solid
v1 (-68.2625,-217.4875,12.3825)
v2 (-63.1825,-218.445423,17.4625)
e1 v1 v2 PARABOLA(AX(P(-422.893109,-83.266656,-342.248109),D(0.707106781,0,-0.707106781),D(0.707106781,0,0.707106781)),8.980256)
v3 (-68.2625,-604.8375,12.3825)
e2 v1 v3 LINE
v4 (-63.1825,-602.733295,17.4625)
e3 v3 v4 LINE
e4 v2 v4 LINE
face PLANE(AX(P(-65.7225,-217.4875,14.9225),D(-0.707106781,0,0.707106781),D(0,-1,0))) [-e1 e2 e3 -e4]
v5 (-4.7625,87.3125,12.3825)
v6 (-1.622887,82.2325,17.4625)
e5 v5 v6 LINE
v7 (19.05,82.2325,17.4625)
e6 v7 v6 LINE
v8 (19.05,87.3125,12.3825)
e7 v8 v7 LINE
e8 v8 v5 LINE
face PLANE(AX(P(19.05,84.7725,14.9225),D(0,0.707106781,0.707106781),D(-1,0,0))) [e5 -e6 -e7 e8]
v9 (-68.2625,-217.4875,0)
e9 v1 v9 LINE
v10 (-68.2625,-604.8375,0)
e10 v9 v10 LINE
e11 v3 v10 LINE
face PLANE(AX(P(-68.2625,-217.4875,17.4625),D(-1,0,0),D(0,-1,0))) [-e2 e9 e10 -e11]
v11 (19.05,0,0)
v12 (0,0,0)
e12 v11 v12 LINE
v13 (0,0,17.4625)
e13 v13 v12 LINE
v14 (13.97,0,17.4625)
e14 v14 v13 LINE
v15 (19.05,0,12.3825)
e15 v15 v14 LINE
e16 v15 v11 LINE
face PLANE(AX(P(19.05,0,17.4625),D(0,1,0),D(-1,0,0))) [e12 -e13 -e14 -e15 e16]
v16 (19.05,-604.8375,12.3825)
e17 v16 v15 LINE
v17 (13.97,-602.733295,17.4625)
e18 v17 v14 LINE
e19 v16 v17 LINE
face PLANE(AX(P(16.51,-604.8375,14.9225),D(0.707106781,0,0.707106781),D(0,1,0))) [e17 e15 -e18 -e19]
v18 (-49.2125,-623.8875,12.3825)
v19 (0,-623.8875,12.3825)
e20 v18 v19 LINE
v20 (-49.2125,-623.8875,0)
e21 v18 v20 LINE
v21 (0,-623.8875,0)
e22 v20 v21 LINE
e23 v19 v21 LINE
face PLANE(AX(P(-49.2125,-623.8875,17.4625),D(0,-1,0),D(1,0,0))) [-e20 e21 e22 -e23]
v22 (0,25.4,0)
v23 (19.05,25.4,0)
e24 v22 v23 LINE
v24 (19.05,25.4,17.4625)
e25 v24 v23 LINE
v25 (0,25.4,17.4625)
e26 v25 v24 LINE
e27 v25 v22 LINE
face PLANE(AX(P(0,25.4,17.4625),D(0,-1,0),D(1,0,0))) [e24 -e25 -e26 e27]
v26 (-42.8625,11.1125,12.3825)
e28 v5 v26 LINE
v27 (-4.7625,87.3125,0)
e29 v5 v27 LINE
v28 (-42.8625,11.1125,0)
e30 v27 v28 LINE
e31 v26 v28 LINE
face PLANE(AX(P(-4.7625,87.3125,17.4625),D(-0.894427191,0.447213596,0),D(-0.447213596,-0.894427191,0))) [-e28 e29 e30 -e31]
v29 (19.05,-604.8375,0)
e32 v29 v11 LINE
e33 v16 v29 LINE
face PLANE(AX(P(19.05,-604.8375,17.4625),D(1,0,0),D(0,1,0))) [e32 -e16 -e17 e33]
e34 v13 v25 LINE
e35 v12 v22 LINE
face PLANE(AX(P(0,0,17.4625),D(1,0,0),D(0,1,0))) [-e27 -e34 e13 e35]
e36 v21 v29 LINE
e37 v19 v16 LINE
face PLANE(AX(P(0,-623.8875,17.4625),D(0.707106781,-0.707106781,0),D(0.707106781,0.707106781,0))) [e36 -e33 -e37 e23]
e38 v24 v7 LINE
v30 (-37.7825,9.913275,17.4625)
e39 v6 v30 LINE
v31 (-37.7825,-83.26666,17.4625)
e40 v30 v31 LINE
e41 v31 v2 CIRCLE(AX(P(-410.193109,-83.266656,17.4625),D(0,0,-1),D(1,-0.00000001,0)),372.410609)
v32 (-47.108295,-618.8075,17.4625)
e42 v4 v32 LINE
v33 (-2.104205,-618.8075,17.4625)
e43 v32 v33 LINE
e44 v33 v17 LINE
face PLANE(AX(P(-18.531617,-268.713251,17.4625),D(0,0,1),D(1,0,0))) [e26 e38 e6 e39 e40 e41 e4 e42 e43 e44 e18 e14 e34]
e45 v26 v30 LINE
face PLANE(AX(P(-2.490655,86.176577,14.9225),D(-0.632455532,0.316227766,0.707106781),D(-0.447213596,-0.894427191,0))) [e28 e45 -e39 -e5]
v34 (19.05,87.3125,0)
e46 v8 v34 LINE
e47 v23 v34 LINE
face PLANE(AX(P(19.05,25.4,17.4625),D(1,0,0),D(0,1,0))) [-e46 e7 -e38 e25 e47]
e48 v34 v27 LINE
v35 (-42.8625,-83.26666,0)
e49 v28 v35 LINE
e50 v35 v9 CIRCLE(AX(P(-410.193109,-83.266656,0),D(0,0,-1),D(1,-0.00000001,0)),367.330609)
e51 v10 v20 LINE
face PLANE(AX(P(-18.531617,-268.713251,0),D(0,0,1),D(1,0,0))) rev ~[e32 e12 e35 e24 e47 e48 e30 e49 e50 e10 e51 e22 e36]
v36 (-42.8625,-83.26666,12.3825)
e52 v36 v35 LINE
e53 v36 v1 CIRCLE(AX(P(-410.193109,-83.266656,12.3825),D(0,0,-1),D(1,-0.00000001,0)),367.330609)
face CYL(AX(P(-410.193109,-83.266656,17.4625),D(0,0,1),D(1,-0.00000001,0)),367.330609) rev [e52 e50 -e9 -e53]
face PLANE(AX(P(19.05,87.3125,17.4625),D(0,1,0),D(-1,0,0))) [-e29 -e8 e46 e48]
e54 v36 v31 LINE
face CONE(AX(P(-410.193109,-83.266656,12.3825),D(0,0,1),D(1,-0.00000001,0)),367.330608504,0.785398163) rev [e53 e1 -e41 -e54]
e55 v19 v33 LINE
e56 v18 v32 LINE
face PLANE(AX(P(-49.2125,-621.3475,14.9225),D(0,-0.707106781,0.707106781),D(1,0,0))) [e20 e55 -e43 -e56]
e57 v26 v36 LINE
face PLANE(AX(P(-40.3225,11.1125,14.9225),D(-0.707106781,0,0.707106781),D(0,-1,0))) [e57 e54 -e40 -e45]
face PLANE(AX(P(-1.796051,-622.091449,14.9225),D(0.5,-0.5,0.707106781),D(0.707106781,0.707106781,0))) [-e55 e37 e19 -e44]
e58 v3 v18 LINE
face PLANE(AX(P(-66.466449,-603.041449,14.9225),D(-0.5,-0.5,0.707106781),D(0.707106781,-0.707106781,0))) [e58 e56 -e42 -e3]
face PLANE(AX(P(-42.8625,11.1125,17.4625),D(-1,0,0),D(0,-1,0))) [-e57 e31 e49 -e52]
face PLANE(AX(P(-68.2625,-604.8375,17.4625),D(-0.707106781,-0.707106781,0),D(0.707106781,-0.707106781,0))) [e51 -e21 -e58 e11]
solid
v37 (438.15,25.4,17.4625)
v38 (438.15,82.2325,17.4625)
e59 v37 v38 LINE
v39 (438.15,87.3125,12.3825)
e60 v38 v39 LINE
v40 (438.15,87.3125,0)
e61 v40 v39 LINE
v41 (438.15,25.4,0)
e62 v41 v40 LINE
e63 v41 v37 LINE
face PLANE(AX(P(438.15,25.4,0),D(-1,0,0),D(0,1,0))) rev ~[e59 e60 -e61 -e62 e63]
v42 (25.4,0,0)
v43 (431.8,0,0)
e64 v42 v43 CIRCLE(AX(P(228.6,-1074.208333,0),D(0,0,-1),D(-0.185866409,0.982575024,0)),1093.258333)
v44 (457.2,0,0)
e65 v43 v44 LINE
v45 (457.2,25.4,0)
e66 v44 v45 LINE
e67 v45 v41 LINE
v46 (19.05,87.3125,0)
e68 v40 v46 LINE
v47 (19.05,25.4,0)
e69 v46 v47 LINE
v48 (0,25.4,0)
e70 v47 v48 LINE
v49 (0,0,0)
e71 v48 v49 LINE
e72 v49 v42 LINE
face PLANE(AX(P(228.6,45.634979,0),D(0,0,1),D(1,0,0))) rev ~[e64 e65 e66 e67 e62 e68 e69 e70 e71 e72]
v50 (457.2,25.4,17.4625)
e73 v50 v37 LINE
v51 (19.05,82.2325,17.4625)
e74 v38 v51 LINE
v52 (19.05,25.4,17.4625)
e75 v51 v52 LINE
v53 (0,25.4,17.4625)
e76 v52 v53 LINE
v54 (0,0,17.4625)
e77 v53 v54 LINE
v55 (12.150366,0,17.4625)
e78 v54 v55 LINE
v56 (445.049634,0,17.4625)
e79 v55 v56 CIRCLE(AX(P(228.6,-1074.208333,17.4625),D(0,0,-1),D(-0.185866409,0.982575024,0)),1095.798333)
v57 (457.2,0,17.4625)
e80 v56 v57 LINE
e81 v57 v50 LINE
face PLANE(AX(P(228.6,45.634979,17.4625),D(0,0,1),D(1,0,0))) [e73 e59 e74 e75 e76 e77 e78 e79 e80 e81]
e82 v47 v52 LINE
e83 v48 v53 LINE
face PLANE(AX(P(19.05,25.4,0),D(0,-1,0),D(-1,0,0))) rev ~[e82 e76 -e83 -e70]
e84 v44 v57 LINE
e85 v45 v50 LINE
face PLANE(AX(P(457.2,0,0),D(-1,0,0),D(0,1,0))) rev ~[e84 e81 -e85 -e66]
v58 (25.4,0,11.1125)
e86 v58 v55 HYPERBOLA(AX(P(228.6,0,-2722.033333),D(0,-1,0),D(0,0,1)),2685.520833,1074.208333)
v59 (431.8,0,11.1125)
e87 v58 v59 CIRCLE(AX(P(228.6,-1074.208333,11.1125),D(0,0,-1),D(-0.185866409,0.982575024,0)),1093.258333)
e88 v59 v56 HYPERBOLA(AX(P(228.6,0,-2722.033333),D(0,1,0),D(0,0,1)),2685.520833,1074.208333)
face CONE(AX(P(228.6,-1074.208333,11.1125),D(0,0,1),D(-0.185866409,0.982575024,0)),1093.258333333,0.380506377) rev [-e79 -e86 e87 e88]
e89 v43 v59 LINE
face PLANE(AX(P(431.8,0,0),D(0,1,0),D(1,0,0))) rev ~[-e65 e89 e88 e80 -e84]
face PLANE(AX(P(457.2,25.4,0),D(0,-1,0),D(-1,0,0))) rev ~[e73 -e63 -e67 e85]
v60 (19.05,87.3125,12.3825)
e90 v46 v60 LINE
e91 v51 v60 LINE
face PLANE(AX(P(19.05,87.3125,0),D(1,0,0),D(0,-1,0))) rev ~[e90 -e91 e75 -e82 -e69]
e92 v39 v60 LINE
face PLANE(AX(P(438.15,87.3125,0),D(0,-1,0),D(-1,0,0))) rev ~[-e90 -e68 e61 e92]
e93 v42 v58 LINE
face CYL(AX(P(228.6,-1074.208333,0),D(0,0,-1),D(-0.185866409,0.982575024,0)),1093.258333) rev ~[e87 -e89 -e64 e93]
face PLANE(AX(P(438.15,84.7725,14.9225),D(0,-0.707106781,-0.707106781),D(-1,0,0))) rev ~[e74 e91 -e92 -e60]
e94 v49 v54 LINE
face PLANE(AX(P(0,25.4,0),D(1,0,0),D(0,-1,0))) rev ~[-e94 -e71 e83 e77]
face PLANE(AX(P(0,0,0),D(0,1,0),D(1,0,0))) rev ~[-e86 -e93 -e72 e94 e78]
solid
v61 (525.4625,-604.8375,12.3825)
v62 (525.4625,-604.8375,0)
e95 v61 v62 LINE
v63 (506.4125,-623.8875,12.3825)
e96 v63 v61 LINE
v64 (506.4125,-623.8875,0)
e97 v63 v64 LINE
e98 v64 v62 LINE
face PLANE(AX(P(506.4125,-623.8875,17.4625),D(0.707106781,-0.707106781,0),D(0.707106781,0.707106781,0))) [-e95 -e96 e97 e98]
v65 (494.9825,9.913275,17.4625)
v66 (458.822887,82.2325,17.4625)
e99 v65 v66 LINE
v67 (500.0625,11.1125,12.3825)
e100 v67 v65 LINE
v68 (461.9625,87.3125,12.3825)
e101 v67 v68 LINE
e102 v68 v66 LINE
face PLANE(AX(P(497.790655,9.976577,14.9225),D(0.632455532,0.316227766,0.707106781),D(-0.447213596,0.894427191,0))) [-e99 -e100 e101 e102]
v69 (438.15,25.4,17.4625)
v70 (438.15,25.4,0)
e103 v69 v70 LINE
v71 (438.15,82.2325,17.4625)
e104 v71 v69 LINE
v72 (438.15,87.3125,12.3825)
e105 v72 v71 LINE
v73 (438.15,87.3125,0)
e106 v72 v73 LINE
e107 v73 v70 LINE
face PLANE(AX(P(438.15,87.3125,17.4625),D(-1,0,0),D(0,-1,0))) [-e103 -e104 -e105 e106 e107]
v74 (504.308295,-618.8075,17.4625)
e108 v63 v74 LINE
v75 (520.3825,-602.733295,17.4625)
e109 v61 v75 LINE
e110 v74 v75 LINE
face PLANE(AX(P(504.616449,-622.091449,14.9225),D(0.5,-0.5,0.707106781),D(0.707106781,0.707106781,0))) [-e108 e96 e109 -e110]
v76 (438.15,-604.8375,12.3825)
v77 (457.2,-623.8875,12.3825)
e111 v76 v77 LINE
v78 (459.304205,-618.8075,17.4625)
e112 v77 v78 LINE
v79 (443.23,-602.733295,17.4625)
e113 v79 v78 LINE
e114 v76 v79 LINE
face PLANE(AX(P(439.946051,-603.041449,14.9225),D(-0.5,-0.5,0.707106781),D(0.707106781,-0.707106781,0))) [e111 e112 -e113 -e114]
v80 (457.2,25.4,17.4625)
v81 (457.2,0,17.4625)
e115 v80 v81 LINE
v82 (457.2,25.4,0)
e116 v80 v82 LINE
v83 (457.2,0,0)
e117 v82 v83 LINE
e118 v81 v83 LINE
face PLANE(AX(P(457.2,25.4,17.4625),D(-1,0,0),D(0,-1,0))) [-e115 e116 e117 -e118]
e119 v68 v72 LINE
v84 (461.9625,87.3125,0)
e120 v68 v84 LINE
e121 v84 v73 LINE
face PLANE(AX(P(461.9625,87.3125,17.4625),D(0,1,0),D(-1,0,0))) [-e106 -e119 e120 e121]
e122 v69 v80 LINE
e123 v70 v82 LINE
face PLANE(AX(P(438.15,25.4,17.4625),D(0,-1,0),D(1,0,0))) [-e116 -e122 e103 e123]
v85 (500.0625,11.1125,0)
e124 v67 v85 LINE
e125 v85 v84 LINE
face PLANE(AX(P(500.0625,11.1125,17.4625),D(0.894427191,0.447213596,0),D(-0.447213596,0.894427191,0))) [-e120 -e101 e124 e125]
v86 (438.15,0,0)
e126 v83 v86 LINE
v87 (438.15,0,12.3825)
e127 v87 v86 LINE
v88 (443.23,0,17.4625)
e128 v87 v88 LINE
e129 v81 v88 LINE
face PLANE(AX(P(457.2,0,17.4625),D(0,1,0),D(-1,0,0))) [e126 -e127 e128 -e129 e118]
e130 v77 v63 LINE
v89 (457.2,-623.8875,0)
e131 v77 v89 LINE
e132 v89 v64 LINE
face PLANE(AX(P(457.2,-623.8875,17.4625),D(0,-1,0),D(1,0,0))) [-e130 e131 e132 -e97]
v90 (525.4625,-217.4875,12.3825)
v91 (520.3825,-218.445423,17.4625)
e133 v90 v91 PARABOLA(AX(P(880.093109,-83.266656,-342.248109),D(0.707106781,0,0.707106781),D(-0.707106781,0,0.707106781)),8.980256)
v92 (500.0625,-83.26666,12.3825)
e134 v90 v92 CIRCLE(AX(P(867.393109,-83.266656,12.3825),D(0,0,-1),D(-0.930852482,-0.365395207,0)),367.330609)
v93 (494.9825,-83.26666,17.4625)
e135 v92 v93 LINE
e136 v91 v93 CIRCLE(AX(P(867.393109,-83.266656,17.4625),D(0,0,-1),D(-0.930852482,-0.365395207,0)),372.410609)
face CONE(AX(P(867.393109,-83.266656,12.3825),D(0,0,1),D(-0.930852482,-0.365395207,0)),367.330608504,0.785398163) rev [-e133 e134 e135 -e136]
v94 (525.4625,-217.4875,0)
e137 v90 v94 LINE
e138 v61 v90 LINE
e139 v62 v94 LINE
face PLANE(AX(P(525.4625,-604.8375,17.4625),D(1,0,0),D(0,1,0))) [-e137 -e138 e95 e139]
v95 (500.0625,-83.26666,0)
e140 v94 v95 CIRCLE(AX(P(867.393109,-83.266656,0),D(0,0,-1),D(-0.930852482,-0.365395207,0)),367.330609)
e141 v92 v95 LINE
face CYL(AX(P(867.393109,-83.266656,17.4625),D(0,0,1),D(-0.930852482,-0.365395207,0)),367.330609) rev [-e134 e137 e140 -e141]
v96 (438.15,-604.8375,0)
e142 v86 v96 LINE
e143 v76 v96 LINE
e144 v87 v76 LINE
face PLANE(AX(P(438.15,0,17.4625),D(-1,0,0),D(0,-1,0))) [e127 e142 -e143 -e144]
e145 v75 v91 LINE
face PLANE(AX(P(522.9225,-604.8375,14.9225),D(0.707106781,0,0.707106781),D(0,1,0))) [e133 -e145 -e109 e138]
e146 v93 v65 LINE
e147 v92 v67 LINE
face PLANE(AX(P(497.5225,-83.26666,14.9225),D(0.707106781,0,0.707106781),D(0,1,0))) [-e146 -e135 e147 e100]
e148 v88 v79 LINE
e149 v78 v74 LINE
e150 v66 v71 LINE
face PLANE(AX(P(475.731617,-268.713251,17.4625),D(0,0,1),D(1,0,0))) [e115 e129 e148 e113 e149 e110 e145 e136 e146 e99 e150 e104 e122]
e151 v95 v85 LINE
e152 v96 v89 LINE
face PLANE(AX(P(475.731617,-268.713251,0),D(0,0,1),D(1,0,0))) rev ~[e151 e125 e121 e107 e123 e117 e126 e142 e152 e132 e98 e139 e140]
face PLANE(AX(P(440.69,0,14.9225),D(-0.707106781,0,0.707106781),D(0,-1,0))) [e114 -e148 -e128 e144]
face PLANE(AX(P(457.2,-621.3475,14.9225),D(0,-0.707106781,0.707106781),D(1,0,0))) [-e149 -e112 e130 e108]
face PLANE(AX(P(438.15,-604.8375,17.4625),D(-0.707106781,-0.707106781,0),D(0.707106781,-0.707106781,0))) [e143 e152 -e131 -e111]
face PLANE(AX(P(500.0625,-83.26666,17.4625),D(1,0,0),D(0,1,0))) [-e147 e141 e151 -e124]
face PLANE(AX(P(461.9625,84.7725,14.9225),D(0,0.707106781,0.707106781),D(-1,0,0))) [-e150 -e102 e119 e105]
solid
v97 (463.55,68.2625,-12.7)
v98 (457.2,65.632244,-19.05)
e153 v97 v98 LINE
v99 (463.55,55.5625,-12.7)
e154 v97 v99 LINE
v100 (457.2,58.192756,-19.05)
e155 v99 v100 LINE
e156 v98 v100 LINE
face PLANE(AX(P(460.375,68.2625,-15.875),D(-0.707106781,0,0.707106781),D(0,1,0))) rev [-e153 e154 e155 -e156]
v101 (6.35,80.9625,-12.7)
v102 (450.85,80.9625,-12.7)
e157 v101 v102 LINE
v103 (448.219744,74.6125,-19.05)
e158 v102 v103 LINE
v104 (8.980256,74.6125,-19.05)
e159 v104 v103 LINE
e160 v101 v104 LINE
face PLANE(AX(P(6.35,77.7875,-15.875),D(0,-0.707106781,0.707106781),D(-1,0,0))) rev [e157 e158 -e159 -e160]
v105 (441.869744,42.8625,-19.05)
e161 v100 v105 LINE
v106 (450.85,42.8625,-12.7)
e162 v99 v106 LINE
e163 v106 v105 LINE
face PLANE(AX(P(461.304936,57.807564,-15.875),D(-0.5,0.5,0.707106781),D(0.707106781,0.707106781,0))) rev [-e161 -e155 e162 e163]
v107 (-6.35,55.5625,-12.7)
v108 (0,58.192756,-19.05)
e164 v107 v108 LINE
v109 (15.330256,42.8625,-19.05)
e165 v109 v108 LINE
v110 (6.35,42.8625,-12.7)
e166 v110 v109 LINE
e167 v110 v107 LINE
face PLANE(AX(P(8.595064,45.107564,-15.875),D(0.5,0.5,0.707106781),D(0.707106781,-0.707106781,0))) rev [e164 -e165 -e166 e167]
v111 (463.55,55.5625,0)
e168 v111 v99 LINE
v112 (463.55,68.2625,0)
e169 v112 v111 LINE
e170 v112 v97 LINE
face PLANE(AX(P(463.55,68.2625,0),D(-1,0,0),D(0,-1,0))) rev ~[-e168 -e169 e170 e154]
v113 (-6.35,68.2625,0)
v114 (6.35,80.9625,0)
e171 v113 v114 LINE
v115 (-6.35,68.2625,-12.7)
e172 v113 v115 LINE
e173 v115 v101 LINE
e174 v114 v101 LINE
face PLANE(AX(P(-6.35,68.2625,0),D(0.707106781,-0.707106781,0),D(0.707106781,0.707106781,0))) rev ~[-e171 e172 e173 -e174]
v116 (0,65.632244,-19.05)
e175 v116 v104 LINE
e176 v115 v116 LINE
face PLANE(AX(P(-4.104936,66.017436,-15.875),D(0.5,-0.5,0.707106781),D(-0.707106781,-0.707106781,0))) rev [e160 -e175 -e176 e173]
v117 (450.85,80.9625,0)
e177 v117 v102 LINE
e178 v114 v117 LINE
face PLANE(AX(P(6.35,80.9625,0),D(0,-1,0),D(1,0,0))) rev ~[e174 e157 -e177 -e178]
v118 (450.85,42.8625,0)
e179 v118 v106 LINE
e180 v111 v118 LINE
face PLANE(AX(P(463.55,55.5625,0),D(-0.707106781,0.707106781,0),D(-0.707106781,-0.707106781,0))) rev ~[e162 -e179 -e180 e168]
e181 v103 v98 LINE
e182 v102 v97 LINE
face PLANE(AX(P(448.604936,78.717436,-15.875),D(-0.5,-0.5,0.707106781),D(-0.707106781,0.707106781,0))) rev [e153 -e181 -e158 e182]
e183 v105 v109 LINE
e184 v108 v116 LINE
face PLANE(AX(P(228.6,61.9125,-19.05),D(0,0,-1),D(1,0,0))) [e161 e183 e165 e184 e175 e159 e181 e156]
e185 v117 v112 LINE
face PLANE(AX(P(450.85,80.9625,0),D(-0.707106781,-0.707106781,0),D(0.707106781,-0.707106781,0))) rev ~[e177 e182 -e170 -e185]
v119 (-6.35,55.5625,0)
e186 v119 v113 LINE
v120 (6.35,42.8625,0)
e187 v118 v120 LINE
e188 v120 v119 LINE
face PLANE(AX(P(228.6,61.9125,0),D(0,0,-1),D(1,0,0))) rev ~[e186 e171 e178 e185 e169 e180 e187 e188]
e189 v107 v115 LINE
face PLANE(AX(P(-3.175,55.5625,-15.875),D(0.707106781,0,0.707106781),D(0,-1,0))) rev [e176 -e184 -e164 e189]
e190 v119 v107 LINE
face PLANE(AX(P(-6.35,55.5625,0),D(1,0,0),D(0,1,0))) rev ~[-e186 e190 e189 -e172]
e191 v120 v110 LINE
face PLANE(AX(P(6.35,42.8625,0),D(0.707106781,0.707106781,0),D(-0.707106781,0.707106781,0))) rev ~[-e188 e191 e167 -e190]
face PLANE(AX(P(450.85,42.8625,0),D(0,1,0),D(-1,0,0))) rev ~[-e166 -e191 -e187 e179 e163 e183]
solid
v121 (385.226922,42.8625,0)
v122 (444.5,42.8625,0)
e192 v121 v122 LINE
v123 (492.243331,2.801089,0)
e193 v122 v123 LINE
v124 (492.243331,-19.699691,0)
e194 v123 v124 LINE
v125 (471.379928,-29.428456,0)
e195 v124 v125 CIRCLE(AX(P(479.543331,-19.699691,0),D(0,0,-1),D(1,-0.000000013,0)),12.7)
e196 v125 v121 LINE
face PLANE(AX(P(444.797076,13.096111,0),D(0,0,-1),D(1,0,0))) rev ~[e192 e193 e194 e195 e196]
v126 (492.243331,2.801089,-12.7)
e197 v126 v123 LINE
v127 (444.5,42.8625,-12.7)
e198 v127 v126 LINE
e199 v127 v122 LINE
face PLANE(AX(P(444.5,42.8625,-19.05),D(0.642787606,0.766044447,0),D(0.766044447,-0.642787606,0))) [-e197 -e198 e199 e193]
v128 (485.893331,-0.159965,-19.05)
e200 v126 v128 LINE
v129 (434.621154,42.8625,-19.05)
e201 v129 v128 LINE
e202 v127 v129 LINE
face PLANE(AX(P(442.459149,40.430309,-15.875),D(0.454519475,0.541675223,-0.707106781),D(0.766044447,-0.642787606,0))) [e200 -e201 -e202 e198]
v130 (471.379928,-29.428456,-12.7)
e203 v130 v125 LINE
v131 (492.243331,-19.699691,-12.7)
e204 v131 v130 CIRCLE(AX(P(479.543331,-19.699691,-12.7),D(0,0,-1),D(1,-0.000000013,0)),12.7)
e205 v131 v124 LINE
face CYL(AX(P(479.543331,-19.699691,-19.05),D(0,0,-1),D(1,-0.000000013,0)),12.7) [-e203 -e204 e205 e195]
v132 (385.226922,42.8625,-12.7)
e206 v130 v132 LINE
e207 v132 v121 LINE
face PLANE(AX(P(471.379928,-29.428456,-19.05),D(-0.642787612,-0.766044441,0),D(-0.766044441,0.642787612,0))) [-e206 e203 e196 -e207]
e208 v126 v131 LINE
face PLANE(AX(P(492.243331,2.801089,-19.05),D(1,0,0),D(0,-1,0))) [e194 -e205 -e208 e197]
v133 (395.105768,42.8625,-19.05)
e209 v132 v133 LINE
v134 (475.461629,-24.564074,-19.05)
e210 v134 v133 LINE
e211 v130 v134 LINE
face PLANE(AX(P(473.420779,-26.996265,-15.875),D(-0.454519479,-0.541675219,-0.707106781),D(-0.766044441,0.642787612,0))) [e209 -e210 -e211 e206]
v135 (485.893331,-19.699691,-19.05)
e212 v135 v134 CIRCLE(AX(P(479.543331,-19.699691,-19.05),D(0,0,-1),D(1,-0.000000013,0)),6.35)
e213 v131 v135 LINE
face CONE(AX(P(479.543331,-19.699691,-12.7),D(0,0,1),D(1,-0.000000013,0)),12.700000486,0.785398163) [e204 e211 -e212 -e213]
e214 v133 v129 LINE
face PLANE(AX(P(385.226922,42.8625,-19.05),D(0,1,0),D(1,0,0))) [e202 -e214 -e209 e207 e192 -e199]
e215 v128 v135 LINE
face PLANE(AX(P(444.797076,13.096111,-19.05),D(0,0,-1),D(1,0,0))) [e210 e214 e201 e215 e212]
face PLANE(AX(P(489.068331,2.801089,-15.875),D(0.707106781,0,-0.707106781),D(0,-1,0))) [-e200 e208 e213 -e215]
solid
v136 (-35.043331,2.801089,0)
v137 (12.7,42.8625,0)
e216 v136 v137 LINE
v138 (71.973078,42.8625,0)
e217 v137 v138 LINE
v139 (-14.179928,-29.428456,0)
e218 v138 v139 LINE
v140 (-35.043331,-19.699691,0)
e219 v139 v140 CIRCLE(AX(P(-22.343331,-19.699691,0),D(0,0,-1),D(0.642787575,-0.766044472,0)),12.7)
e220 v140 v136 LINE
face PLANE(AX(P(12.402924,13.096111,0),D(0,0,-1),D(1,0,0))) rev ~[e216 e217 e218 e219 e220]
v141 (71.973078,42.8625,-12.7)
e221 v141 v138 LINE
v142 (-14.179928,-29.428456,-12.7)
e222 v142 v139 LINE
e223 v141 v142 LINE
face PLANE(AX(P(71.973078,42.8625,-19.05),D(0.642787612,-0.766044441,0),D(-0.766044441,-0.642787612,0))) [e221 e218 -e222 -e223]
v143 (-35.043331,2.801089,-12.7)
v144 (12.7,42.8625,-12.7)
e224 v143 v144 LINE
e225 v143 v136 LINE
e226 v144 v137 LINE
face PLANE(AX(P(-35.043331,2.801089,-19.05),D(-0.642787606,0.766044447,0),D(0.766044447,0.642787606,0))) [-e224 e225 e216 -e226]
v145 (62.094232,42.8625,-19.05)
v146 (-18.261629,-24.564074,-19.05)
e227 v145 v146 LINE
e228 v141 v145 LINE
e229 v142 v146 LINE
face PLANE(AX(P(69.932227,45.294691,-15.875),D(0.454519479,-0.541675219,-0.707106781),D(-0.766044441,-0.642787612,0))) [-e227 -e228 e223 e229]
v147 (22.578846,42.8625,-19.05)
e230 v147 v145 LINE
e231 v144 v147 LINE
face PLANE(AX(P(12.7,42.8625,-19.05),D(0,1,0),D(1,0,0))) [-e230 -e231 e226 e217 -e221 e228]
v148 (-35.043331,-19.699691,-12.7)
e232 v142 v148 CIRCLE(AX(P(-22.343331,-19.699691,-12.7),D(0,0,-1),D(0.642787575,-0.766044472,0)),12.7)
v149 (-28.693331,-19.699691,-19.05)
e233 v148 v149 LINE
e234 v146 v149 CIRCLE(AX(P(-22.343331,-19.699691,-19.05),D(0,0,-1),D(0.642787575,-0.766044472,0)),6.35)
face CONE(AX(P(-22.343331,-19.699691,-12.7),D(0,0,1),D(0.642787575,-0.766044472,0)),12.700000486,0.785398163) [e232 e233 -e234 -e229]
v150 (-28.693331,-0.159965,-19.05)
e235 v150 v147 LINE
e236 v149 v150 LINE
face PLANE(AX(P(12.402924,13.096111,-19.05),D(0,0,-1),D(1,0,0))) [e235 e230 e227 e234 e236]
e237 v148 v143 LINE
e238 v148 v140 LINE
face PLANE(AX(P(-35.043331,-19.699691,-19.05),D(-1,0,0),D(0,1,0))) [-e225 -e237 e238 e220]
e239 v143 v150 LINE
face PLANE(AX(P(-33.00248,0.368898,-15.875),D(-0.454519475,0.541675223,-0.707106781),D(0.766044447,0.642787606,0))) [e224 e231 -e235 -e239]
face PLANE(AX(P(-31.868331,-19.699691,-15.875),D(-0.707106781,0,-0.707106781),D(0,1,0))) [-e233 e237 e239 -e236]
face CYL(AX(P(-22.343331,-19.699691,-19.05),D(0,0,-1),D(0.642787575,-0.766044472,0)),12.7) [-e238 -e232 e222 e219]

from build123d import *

# Parameters (mm, degrees)
F1_DEPTH   = 17.4625
F2_SIZE2   = 2.54
F2_SIZE    = 6.35
F4_DEPTH   = 17.4625
F5_SIZE    = 5.08
F5_2_SIZE  = 5.08
F7_DEPTH   = 19.05
F9_DEPTH   = 19.05
F10_SIZE   = 6.35
F10_2_SIZE = 6.35


with BuildPart() as f1:
    # F0 (on Top) → F1 (new body)
    with BuildSketch(Plane.XY):
        with BuildLine():
            Line((0, 25.4), (0, 0))
            Line((0, 0), (25.4, 0))
            ThreePointArc((25.4, 0), (228.6, 19.05), (431.8, 0))
            Line((431.8, 0), (457.2, 0))
            Line((457.2, 0), (457.2, 25.4))
            Line((457.2, 25.4), (438.15, 25.4))
            Line((438.15, 25.4), (438.15, 87.3125))
            Line((438.15, 87.3125), (19.05, 87.3125))
            Line((19.05, 87.3125), (19.05, 25.4))
            Line((19.05, 25.4), (0, 25.4))
        make_face()
    extrude(amount=F1_DEPTH)

    # F2
    f2_edges = [f1.edges().sort_by_distance(p)[0] for p in [
        (228.6, 19.05, 17.4625),
    ]]
    chamfer(f2_edges, length=F2_SIZE, length2=F2_SIZE2)

    # F5
    f5_edges = [f1.edges().sort_by_distance(p)[0] for p in [
        (228.6, 87.3125, 17.4625),
    ]]
    chamfer(f5_edges, length=F5_SIZE)


with BuildPart() as f4:
    # F3 (on face) → F4 (new body)
    with BuildSketch(Plane.XY.offset(17.4625)):
        with BuildLine():
            Line((19.05, 87.3125), (-4.7625, 87.3125))
            Line((-4.7625, 87.3125), (-42.8625, 11.1125))
            Line((-42.8625, 11.1125), (-42.8625, -83.26666))
            ThreePointArc((-42.8625, -83.26666), (-49.268356, -151.568186), (-68.2625, -217.4875))
            Line((-68.2625, -217.4875), (-68.2625, -604.8375))
            Line((-68.2625, -604.8375), (-49.2125, -623.8875))
            Line((-49.2125, -623.8875), (0, -623.8875))
            Line((0, -623.8875), (19.05, -604.8375))
            Line((19.05, -604.8375), (19.05, 0))
            Line((19.05, 0), (0, 0))
            Line((0, 0), (0, 25.4))
            Line((0, 25.4), (19.05, 25.4))
            Line((19.05, 25.4), (19.05, 87.3125))
        make_face()
        with BuildLine():
            Line((457.2, 25.4), (457.2, 0))
            Line((457.2, 0), (438.15, 0))
            Line((438.15, 0), (438.15, -604.8375))
            Line((438.15, -604.8375), (457.2, -623.8875))
            Line((457.2, -623.8875), (506.4125, -623.8875))
            Line((506.4125, -623.8875), (525.4625, -604.8375))
            Line((525.4625, -604.8375), (525.4625, -217.4875))
            ThreePointArc((525.4625, -217.4875), (506.468356, -151.568186), (500.0625, -83.26666))
            Line((500.0625, -83.26666), (500.0625, 11.1125))
            Line((500.0625, 11.1125), (461.9625, 87.3125))
            Line((461.9625, 87.3125), (438.15, 87.3125))
            Line((438.15, 87.3125), (438.15, 25.4))
            Line((438.15, 25.4), (457.2, 25.4))
        make_face()
    extrude(amount=-F4_DEPTH)

    # F5#2
    f5_2_edges = [f4.edges().sort_by_distance(p)[0] for p in [
        (7.14375, 87.3125, 17.4625),
        (-23.8125, 49.2125, 17.4625),
        (-42.8625, -36.07708, 17.4625),
        (-68.2625, -411.1625, 17.4625),
        (-58.7375, -614.3625, 17.4625),
        (-24.60625, -623.8875, 17.4625),
        (9.525, -614.3625, 17.4625),
        (19.05, -302.41875, 17.4625),
        (450.05625, 87.3125, 17.4625),
        (481.0125, 49.2125, 17.4625),
        (500.0625, -36.07708, 17.4625),
        (506.468356, -151.568186, 17.4625),
        (525.4625, -411.1625, 17.4625),
        (515.9375, -614.3625, 17.4625),
        (481.80625, -623.8875, 17.4625),
        (447.675, -614.3625, 17.4625),
        (438.15, -302.41875, 17.4625),
    ]]
    chamfer(f5_2_edges, length=F5_2_SIZE)


with BuildPart() as f7:
    # F6 (on face) → F7 (new body)
    with BuildSketch(Plane(origin=(0, 0, 0), x_dir=(1, 0, 0), z_dir=(0, 0, -1))):
        Polygon((6.35, -80.9625), (450.85, -80.9625), (463.55, -68.2625), (463.55, -55.5625), (450.85, -42.8625), (6.35, -42.8625), (-6.35, -55.5625), (-6.35, -68.2625), align=None)
    extrude(amount=F7_DEPTH)

    # F10#2
    f10_2_edges = [f7.edges().sort_by_distance(p)[0] for p in [
        (-6.35, 61.9125, -19.05),
        (0, 74.6125, -19.05),
        (228.6, 80.9625, -19.05),
        (457.2, 74.6125, -19.05),
        (463.55, 61.9125, -19.05),
        (457.2, 49.2125, -19.05),
        (0, 49.2125, -19.05),
    ]]
    chamfer(f10_2_edges, length=F10_2_SIZE)


with BuildPart() as f9:
    # F8 (on face) → F9 (new body)
    with BuildSketch(Plane(origin=(0, 0, -19.05), x_dir=(1, 0, 0), z_dir=(0, 0, -1))):
        with BuildLine():
            Line((471.379928, 29.428456), (385.226922, -42.8625))
            Line((385.226922, -42.8625), (444.5, -42.8625))
            Line((444.5, -42.8625), (492.243331, -2.801089))
            Line((492.243331, -2.801089), (492.243331, 19.699691))
            ThreePointArc((492.243331, 19.699691), (484.910583, 31.2098), (471.379928, 29.428456))
        make_face()
        with BuildLine():
            Line((-35.043331, 19.699691), (-35.043331, -2.801089))
            Line((-35.043331, -2.801089), (12.7, -42.8625))
            Line((12.7, -42.8625), (71.973078, -42.8625))
            Line((71.973078, -42.8625), (-14.179928, 29.428456))
            ThreePointArc((-14.179928, 29.428456), (-27.710583, 31.2098), (-35.043331, 19.699691))
        make_face()
    extrude(amount=-F9_DEPTH)

    # F10
    f10_edges = [f9.edges().sort_by_distance(p)[0] for p in [
        (468.371665, 22.831794, -19.05),
        (492.243331, -8.449301, -19.05),
        (484.910583, -31.2098, -19.05),
        (28.896575, 6.717022, -19.05),
        (-27.710583, -31.2098, -19.05),
        (-11.171665, 22.831794, -19.05),
    ]]
    chamfer(f10_edges, length=F10_SIZE)


solid = Compound([f1.part, f4.part, f7.part, f9.part])
